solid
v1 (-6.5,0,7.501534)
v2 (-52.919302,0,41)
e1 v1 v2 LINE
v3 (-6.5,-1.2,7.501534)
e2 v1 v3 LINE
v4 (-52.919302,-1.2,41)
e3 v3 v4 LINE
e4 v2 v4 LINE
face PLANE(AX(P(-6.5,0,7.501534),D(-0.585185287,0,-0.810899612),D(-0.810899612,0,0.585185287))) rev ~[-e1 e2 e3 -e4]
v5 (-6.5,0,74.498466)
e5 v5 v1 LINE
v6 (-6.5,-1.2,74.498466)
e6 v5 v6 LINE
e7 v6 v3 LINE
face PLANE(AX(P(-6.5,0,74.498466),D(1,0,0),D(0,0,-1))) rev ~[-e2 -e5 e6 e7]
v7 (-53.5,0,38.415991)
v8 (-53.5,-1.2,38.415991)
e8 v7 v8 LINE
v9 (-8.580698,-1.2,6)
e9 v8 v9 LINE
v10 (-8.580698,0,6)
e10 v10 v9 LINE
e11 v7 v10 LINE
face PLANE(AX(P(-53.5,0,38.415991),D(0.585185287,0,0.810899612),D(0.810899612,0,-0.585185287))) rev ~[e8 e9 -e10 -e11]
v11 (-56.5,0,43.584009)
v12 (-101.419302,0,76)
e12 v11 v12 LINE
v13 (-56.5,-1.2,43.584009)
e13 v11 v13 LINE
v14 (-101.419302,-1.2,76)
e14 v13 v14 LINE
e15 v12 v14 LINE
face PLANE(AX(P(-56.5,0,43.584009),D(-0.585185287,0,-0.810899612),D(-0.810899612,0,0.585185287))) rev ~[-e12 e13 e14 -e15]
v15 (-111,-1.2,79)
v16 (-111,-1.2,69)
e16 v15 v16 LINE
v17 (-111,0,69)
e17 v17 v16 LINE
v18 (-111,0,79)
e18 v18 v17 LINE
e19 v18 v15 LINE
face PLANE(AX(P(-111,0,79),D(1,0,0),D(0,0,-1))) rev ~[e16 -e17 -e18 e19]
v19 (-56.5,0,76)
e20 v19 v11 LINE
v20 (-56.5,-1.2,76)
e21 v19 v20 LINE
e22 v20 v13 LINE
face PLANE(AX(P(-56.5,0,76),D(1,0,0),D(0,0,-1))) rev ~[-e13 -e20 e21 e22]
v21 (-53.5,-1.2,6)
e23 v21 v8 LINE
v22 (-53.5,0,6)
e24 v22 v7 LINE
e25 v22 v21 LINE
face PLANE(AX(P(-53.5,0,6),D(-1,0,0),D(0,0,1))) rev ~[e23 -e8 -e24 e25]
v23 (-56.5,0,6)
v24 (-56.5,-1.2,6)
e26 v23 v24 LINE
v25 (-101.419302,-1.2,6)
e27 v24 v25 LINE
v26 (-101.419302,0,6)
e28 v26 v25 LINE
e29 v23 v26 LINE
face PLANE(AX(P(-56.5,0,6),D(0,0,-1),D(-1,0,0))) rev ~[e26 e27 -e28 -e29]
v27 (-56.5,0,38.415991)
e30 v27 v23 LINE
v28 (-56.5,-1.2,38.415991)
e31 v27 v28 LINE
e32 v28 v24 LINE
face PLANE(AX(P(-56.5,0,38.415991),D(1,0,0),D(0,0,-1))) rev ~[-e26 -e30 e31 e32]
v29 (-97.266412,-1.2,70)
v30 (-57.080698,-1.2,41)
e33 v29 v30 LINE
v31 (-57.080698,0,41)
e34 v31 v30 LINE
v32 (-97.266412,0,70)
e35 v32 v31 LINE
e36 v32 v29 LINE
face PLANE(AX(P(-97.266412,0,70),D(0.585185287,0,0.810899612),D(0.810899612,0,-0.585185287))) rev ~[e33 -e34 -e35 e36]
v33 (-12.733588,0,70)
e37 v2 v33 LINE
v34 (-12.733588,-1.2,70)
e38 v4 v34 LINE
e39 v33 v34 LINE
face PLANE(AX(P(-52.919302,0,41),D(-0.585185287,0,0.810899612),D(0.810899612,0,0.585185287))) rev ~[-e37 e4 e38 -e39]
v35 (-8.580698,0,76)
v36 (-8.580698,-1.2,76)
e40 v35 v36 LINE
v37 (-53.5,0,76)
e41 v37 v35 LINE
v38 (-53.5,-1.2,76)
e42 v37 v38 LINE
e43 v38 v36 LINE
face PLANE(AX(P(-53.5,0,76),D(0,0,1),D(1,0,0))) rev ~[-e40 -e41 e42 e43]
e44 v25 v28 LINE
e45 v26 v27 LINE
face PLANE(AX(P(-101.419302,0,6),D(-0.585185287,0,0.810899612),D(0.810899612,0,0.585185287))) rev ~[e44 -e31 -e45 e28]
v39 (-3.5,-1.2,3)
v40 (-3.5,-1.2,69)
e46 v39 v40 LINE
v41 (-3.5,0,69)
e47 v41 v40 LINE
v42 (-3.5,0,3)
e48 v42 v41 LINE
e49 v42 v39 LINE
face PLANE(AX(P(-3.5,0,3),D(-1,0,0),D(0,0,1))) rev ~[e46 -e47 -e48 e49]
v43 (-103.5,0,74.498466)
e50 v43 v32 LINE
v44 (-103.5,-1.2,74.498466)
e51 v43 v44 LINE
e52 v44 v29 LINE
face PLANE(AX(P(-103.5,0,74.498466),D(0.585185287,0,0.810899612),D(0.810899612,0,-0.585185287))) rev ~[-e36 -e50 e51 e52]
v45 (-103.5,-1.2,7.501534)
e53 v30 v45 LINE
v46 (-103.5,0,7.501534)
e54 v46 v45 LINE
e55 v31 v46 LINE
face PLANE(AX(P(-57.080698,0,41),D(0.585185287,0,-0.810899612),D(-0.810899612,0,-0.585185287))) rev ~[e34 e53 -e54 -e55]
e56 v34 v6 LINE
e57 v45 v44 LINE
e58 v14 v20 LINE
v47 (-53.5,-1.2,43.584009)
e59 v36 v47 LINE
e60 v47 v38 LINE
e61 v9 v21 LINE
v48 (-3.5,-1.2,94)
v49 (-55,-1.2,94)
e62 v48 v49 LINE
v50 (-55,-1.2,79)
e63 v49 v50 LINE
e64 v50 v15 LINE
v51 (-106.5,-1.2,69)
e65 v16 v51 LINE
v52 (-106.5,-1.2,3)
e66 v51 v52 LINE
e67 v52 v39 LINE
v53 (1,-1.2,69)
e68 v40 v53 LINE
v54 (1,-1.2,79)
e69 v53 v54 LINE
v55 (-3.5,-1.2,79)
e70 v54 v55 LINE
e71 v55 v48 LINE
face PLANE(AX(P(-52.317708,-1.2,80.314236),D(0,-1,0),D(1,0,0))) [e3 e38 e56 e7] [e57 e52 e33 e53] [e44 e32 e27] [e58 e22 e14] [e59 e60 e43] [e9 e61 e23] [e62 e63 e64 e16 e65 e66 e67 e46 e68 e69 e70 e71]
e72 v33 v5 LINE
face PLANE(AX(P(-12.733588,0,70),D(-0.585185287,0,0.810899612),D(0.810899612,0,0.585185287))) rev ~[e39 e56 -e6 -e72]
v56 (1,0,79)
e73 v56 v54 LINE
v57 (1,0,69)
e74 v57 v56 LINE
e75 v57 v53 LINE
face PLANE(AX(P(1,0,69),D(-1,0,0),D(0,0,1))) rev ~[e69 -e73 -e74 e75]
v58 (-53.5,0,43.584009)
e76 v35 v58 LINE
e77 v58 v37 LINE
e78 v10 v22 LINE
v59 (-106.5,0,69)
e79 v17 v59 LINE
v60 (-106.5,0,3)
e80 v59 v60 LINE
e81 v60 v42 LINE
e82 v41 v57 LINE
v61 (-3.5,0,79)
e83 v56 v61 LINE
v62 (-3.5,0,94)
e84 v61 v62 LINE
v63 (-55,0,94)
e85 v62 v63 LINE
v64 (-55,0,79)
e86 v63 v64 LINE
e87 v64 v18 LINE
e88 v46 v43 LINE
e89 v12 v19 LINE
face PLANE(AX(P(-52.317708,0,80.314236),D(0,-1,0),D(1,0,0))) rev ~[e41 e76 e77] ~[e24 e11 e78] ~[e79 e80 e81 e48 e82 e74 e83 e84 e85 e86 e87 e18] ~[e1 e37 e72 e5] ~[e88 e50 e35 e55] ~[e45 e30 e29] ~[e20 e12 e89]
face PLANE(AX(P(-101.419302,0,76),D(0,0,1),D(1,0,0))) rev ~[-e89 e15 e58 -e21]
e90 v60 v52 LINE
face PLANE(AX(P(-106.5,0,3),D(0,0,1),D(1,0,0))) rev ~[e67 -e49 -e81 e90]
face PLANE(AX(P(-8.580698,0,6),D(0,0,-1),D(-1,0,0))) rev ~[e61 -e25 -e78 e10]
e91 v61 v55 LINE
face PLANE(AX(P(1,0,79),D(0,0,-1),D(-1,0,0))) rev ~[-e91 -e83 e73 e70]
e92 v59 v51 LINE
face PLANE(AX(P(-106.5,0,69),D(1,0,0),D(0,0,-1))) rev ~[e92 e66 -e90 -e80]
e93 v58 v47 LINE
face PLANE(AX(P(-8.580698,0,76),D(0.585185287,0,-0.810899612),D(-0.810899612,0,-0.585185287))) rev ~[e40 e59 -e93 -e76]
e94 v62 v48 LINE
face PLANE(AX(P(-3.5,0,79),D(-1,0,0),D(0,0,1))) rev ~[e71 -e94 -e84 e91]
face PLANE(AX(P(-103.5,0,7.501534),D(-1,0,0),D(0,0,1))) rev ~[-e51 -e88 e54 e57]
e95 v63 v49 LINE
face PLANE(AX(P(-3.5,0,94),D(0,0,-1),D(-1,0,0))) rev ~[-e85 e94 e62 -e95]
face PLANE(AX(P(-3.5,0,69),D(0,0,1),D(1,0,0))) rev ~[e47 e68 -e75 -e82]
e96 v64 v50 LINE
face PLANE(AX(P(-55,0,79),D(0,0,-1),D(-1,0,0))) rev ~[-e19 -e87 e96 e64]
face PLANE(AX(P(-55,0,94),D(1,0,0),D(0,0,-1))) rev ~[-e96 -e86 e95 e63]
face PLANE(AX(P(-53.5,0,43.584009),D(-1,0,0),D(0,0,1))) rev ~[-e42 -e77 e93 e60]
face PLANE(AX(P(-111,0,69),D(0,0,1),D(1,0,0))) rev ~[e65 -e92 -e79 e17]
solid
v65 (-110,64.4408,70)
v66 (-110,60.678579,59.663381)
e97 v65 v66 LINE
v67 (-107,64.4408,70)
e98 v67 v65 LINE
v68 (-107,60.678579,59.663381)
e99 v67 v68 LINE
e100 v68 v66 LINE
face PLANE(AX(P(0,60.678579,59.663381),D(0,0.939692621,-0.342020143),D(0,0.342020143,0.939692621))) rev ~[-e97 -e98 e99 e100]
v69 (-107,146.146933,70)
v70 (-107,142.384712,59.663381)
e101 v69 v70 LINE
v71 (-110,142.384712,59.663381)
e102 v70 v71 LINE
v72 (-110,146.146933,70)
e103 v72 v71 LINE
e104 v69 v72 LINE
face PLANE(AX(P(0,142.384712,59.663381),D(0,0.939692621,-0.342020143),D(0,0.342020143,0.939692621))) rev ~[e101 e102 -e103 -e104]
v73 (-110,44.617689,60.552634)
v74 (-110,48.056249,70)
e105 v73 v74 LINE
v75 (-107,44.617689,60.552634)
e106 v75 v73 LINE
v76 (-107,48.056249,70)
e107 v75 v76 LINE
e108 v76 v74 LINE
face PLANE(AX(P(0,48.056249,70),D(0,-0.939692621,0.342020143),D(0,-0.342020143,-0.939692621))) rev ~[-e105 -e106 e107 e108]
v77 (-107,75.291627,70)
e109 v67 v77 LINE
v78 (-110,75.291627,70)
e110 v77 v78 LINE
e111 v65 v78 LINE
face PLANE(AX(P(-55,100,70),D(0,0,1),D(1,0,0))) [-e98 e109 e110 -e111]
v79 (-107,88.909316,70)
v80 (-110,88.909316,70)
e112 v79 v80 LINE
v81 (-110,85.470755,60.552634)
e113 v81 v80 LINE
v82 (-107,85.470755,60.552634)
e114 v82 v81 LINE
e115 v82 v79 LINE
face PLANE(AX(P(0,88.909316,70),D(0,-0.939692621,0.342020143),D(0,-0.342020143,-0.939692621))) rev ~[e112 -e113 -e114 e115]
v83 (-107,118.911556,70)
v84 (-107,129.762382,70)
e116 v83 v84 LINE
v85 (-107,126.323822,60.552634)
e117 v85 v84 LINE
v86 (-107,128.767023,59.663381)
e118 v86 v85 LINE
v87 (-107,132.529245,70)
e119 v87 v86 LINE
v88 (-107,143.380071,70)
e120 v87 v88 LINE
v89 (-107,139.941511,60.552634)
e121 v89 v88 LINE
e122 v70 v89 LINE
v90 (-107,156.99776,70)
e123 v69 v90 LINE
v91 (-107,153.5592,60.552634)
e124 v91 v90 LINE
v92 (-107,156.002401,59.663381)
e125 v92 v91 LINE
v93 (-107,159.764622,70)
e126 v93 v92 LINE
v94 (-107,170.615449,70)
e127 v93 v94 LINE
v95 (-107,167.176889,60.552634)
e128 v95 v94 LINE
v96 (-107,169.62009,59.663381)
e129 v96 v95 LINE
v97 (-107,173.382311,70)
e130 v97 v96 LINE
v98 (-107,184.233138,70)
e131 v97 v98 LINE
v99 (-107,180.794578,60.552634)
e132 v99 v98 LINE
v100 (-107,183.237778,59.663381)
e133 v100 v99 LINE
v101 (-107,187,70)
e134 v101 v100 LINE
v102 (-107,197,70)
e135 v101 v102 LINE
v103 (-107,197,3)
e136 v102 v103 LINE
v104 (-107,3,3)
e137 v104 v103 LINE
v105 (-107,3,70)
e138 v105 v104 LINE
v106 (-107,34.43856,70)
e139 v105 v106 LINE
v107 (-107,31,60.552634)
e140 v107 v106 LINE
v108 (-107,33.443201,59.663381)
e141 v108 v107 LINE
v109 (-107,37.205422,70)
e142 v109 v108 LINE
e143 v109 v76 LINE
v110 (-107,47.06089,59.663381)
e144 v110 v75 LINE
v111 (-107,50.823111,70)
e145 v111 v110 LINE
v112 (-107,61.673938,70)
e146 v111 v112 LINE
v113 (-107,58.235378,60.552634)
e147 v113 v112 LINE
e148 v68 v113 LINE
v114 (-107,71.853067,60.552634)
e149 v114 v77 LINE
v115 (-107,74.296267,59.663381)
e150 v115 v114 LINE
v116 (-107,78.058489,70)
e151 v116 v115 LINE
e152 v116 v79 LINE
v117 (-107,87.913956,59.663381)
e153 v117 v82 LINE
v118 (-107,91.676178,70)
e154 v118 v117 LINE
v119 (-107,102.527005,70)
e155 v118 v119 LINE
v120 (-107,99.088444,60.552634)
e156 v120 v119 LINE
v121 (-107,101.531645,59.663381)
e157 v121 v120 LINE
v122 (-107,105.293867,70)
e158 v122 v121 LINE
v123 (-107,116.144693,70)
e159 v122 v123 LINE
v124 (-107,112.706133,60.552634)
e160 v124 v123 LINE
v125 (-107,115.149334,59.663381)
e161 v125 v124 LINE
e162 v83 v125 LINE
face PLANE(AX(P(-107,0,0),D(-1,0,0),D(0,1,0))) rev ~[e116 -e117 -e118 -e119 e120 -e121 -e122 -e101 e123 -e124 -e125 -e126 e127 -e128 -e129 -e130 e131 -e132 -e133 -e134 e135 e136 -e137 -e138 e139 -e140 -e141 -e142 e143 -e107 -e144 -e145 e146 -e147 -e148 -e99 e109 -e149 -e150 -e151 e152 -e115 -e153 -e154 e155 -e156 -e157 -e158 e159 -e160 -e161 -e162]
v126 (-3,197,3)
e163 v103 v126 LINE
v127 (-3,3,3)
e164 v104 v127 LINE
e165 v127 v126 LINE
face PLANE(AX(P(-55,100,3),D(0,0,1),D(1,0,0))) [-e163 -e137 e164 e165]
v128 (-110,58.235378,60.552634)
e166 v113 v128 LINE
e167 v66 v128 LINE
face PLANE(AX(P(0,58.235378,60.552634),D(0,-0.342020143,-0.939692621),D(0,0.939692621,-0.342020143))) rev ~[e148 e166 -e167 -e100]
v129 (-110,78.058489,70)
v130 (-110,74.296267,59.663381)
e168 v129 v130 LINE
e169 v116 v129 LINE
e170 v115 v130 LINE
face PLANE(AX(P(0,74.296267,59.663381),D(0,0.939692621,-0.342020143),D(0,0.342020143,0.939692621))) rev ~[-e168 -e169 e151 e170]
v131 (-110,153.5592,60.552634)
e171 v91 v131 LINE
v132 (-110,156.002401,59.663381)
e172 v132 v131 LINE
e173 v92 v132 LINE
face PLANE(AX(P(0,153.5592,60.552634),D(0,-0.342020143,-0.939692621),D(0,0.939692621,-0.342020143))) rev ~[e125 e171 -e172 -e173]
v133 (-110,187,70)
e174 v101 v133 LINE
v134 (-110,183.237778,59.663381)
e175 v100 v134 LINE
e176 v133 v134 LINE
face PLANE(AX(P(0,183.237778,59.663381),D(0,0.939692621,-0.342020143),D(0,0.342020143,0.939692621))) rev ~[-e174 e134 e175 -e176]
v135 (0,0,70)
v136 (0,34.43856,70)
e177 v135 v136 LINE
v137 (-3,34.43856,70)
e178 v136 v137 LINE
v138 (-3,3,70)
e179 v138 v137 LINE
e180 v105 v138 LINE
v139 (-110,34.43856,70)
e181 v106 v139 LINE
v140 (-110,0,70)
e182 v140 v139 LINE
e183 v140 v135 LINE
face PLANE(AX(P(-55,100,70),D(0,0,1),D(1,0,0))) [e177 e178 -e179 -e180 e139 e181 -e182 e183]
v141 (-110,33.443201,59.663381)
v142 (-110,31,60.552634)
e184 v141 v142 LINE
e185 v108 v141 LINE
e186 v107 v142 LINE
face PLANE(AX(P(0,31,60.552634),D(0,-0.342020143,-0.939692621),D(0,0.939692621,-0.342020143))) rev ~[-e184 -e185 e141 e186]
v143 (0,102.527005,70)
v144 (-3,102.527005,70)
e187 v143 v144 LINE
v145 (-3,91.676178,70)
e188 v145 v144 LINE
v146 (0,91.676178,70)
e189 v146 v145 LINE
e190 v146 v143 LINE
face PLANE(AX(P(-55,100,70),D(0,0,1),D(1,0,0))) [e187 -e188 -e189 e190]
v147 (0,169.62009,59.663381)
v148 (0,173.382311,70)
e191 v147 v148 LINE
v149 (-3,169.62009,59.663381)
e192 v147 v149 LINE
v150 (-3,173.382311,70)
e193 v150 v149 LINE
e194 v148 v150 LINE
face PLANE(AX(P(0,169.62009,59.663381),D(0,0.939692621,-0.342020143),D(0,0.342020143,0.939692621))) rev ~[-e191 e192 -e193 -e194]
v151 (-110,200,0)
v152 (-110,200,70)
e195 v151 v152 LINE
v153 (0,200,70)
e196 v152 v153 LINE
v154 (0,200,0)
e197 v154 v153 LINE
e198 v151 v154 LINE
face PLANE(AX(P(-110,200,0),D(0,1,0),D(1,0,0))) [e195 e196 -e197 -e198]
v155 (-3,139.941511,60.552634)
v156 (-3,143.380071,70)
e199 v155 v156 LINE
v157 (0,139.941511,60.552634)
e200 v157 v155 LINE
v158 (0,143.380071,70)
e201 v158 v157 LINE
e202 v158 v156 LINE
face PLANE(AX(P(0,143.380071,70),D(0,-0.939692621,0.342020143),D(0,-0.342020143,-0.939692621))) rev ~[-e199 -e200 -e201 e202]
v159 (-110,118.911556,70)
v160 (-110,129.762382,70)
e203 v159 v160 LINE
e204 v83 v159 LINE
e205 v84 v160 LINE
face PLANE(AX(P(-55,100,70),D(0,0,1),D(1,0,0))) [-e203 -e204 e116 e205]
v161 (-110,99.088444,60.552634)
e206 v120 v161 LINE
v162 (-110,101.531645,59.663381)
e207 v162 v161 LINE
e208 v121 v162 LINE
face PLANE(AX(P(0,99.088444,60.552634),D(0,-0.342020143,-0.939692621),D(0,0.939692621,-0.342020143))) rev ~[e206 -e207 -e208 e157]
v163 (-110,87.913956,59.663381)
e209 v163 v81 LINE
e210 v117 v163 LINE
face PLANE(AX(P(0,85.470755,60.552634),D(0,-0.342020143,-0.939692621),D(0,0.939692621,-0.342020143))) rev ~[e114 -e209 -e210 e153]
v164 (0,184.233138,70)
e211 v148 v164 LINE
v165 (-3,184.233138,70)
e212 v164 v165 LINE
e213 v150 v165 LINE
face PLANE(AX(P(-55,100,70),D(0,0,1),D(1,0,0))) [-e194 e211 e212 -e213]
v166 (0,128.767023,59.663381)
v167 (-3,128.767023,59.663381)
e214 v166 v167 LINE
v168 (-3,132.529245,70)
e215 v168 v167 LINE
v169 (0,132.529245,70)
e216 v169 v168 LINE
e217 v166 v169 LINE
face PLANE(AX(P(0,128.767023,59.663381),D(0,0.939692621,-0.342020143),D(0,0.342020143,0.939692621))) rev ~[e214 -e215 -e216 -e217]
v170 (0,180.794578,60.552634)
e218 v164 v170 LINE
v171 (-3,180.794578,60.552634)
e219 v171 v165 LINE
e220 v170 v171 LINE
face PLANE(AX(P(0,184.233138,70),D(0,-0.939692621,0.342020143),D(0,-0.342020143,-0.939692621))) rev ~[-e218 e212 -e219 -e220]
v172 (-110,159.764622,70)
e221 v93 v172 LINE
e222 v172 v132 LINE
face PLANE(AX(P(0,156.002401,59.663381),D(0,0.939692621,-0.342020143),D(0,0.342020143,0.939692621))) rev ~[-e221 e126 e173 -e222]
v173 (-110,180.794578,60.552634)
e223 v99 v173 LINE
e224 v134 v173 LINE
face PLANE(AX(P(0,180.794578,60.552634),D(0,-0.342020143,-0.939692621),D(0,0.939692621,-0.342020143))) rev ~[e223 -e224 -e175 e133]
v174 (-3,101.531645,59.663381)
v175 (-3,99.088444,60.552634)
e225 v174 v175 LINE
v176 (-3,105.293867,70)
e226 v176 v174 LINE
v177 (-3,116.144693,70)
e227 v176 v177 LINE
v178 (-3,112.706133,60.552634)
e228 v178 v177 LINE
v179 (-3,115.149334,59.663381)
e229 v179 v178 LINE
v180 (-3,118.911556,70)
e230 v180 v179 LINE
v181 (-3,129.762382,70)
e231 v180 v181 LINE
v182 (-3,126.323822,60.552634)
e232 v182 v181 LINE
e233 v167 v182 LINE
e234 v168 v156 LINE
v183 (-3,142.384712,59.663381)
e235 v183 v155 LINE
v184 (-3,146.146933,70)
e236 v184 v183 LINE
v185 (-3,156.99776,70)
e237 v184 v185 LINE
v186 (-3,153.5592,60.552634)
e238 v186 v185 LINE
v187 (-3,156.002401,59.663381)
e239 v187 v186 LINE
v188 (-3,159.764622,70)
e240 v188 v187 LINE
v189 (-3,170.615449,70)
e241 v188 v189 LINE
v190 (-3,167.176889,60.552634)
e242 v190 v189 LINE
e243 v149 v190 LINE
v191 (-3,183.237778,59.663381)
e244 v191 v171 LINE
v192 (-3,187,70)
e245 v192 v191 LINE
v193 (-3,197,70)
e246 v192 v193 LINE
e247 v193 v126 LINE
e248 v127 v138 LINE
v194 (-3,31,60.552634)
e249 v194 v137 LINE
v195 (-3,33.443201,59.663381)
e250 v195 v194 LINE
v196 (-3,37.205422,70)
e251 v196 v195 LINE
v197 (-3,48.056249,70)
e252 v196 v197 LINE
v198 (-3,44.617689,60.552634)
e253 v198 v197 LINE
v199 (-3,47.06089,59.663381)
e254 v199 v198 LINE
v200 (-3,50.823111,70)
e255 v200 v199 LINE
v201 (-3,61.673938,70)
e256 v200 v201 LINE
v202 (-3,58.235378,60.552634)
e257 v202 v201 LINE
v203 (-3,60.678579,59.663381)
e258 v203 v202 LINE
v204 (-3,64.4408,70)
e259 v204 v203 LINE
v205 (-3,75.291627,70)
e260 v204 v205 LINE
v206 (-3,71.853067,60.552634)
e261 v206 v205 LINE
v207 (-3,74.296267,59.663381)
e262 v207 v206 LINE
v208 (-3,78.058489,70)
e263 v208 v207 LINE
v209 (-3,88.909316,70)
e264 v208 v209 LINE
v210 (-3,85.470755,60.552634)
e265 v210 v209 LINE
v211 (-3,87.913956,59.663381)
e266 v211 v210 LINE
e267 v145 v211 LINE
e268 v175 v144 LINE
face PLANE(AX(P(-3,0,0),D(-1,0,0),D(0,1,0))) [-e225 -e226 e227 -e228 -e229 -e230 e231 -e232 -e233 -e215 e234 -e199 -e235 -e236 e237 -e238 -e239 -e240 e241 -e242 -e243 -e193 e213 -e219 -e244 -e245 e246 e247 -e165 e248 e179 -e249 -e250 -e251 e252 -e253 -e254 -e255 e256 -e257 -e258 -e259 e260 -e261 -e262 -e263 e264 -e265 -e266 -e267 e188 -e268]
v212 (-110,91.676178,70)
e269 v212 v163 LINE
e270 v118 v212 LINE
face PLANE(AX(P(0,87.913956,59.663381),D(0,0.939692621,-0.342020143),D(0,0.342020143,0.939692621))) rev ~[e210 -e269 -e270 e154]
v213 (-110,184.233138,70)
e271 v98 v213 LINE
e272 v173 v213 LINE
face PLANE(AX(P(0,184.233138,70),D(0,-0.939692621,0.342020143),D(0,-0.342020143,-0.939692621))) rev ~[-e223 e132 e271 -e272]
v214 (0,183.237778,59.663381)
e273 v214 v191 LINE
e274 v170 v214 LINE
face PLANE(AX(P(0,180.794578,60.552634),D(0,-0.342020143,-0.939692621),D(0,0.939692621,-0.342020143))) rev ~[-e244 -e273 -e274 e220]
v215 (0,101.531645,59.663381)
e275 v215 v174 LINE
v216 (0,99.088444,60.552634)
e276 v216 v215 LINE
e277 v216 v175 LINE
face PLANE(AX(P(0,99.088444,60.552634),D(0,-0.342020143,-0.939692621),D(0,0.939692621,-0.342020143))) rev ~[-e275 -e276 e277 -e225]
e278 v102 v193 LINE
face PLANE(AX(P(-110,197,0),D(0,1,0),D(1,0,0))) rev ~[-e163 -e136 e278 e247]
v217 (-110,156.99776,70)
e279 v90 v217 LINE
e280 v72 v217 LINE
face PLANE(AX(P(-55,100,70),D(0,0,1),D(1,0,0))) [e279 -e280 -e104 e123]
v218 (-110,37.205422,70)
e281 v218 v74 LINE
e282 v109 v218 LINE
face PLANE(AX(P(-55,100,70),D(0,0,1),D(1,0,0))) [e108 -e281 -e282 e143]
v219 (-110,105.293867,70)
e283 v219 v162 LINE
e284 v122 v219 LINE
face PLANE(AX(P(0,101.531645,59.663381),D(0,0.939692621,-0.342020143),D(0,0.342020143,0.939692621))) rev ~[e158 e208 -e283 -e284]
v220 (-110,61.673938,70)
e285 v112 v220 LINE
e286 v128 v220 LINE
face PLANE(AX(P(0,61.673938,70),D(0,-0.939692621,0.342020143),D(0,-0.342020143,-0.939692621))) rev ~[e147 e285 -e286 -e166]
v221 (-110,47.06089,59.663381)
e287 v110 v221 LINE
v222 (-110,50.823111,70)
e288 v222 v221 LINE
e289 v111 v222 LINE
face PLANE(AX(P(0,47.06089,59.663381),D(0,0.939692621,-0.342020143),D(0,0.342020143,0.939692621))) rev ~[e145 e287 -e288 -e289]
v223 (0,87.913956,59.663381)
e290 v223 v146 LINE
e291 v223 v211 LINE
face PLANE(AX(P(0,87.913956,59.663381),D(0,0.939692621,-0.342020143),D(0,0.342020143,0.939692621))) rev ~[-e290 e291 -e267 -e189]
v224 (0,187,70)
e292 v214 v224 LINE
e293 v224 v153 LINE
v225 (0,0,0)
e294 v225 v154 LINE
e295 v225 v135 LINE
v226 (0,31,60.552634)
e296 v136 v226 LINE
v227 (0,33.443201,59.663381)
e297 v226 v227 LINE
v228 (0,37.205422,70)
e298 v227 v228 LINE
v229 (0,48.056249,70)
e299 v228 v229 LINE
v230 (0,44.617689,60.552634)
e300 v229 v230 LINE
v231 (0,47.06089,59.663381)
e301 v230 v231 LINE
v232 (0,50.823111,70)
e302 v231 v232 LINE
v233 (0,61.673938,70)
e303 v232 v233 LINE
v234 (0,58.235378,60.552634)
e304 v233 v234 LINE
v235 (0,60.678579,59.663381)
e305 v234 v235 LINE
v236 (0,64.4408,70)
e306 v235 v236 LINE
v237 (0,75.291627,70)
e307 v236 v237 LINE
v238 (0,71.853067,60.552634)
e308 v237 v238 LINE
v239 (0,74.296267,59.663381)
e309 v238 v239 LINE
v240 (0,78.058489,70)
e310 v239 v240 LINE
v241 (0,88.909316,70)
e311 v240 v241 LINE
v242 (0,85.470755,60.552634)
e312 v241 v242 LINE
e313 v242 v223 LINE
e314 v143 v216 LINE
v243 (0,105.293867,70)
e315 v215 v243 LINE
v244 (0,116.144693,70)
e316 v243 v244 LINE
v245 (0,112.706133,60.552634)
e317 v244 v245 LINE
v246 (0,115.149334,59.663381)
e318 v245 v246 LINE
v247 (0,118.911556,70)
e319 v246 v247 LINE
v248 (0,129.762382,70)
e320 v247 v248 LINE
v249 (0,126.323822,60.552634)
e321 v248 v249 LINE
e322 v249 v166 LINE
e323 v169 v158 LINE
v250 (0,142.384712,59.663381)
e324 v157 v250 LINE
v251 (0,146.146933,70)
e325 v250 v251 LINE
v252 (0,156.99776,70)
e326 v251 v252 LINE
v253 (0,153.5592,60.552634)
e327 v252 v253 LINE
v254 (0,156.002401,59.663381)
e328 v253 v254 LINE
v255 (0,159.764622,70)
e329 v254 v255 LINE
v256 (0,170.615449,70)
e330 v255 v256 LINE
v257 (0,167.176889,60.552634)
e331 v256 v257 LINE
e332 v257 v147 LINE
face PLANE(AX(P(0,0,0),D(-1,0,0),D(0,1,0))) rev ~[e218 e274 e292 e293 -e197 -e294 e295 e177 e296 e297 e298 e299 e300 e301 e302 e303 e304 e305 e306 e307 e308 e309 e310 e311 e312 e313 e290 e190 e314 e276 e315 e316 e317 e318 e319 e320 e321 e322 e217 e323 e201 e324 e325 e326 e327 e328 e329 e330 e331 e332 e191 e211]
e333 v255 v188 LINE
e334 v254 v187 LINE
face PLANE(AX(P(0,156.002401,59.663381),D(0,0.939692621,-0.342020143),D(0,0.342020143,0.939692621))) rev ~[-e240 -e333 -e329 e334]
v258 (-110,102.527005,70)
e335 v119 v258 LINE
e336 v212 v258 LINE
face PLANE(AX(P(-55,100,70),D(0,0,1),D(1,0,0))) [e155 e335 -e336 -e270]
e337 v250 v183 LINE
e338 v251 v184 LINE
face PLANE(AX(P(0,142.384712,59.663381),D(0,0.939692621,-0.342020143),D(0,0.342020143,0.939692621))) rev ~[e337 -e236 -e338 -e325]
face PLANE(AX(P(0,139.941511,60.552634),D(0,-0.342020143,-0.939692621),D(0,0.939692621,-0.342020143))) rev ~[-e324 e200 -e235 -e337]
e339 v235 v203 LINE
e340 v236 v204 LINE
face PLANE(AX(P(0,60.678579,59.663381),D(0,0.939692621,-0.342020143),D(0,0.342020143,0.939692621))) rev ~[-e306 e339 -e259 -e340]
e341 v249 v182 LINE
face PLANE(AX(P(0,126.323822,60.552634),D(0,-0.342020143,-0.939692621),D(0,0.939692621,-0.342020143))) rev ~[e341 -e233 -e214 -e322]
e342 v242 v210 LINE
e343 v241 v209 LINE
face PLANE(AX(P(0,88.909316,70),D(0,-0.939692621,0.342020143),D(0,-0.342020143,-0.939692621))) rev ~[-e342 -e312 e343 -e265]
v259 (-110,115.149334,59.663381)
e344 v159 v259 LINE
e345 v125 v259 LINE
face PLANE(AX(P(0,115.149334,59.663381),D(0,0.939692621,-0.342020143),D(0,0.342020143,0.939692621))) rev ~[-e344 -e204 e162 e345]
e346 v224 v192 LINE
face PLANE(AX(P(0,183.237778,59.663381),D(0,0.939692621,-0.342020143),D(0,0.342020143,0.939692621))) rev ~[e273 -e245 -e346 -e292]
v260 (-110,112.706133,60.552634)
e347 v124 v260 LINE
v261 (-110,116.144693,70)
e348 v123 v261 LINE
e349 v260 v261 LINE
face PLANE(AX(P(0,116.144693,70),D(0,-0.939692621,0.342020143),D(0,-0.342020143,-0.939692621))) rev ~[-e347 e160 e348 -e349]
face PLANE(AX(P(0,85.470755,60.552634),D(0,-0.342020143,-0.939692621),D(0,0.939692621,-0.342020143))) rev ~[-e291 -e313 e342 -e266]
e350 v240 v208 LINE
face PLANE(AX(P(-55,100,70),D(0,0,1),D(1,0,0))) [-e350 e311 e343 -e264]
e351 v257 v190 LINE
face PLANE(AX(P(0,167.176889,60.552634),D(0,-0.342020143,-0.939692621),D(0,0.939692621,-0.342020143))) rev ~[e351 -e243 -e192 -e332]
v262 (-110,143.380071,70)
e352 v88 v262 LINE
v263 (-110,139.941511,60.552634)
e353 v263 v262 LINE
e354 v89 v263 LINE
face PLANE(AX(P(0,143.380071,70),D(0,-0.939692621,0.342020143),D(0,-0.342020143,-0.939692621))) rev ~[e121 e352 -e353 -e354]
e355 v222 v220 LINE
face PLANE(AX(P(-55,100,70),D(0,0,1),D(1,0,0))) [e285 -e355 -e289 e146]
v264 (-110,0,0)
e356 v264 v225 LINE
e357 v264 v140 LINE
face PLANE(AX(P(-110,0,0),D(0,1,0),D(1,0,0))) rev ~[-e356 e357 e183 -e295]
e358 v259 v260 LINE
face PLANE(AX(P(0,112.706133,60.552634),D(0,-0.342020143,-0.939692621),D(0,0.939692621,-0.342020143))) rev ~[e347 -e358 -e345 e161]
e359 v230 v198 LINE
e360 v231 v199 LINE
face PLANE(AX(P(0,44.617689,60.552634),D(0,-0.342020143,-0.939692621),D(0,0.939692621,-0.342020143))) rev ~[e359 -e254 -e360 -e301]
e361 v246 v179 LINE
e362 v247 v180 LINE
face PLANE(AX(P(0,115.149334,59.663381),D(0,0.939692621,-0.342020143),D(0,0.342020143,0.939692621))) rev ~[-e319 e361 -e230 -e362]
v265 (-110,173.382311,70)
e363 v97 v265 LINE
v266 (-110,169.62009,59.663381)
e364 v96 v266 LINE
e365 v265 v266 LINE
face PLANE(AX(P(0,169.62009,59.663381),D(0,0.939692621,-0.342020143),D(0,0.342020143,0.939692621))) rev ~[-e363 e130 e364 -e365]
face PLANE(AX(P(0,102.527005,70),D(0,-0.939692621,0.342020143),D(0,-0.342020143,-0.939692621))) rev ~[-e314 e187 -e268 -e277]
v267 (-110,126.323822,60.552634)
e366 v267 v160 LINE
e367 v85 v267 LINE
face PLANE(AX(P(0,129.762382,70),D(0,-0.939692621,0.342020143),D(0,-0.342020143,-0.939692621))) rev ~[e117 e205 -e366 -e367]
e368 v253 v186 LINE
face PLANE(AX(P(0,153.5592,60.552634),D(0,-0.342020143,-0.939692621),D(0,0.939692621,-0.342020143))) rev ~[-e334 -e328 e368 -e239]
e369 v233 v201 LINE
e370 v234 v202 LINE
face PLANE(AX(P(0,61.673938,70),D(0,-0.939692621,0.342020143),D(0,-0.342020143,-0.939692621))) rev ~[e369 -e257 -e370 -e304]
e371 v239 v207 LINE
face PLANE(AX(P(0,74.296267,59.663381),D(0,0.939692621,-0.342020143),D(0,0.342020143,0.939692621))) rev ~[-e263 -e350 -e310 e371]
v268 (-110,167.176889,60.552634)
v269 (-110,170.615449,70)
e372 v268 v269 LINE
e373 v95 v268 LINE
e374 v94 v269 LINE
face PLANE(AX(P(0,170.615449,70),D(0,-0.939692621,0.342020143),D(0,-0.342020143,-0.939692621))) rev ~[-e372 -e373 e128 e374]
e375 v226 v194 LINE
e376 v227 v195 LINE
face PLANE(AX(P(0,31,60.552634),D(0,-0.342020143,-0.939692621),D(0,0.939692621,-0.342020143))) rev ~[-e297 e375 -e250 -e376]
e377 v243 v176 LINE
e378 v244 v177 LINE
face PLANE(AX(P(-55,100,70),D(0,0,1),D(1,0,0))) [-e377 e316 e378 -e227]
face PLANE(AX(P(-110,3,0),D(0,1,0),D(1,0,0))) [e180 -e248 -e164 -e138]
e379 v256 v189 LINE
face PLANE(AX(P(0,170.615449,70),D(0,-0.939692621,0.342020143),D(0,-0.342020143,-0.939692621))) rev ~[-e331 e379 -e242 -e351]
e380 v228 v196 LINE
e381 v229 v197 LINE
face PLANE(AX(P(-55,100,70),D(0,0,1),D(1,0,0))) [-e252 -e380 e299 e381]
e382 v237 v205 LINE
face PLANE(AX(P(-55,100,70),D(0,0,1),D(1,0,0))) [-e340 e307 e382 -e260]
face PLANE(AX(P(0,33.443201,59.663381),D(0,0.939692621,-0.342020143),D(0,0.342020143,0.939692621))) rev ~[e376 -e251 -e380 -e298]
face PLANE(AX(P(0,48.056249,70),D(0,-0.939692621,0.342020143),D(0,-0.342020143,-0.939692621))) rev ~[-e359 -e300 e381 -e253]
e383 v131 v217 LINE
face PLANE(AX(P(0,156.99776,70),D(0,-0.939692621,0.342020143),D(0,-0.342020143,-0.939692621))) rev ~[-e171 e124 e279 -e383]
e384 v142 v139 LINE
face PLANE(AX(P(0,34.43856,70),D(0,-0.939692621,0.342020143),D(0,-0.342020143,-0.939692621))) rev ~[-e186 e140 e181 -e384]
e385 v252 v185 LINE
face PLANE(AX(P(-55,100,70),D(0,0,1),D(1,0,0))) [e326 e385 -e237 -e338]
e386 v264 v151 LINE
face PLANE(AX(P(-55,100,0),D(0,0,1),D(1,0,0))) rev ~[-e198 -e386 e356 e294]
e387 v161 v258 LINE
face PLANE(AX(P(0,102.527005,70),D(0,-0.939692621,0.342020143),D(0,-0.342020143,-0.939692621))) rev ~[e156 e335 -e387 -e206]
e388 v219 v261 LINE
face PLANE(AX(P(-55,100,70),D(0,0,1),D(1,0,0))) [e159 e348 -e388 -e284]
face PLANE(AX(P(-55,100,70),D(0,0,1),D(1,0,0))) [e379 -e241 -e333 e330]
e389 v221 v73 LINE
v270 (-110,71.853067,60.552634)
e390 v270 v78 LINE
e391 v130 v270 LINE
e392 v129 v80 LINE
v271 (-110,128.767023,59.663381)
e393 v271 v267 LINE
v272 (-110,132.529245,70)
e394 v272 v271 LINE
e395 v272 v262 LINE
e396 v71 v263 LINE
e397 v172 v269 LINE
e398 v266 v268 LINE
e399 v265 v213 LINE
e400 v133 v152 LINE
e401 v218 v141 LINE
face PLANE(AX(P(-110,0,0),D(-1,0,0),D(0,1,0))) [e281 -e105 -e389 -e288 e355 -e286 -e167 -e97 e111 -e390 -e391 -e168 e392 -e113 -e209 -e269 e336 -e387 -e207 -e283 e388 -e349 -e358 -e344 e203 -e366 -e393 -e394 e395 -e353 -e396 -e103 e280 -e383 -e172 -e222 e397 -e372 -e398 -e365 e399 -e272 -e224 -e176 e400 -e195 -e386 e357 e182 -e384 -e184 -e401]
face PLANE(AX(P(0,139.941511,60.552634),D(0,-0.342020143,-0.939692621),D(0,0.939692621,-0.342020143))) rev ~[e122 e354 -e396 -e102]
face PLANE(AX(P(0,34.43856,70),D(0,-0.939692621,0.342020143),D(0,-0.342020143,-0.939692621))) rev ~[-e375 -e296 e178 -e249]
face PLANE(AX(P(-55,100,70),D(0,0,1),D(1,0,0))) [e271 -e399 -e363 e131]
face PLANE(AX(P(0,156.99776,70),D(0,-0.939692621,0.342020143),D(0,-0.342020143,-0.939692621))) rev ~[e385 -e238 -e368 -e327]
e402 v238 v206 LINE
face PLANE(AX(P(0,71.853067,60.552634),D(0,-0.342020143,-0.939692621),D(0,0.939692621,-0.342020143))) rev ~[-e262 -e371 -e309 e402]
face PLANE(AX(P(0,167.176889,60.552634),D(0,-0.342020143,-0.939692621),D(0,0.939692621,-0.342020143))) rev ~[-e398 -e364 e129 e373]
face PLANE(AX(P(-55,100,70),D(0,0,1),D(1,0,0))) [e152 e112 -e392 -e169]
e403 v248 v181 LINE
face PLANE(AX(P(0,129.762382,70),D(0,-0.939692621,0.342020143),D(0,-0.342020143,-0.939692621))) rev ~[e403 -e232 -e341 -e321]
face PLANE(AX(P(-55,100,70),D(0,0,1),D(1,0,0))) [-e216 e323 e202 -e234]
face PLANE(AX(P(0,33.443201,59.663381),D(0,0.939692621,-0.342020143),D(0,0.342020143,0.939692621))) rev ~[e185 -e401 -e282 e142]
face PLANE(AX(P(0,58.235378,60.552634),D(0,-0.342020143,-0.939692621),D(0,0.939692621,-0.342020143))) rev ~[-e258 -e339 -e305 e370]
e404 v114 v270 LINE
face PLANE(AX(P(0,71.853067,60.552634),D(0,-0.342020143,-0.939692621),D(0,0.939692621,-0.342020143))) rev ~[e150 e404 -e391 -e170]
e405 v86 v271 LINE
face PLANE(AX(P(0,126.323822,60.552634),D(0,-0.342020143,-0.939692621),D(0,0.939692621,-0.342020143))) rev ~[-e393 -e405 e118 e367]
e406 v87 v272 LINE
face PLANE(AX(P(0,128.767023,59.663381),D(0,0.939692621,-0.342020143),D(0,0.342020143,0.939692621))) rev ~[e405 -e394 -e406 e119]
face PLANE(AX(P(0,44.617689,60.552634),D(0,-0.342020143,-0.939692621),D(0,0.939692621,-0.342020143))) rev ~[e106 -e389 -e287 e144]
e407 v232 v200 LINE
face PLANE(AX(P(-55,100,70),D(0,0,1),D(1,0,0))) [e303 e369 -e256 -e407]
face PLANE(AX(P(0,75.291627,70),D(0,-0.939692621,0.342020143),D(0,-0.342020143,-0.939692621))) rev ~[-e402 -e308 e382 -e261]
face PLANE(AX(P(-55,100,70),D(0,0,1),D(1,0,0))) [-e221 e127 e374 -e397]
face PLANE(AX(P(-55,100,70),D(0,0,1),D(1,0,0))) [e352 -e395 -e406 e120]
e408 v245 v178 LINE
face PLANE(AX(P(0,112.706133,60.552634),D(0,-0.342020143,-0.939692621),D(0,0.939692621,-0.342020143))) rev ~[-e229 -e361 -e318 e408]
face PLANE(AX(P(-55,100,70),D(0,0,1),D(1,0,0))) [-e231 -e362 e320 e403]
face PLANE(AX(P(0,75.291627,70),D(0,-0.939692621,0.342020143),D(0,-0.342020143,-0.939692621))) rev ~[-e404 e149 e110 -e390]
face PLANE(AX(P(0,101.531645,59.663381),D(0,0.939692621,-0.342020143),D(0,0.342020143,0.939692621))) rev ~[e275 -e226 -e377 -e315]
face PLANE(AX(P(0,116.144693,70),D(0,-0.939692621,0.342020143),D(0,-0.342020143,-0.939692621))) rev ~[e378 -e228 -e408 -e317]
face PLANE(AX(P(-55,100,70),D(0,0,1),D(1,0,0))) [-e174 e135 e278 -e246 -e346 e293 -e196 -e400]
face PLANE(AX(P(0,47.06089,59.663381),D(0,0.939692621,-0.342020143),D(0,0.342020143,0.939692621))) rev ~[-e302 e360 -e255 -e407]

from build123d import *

# Parameters (mm, degrees)
F0_W     = 110
F0_H     = 200
F1_DEPTH = 70
F2_T     = -3
F5_DEPTH = 110.001
F3_W     = 3
F3_H     = 6
F6_DEPTH = 1.2


with BuildPart() as f1:
    # F0 (on Top) → F1 (new body)
    with BuildSketch(Plane.XY):
        with Locations((-55, 100)):
            Rectangle(F0_W, F0_H)
    extrude(amount=F1_DEPTH)

    # F2
    f2_openings = [f1.faces().sort_by_distance(p)[0] for p in [
        (-55, 100, 70),
    ]]
    offset(amount=F2_T, openings=f2_openings)

    # F4 (on face) → F5 (cut, through all)
    with BuildSketch(Plane.YZ):
        Polygon((183.2377784234, 59.6633811714), (187, 70), (184.2331377916, 70), (180.7945776094, 60.552633544), align=None)
        Polygon((170.615448918, 70), (167.1768887358, 60.552633544), (169.6200895498, 59.6633811714), (173.3823111264, 70), align=None)
        Polygon((156.9977600444, 70), (153.5591998622, 60.552633544), (156.0024006762, 59.6633811714), (159.7646222528, 70), align=None)
        Polygon((143.3800711708, 70), (139.9415109886, 60.552633544), (142.3847118027, 59.6633811714), (146.1469333793, 70), align=None)
        Polygon((129.7623822972, 70), (126.323822115, 60.552633544), (128.7670229291, 59.6633811714), (132.5292445057, 70), align=None)
        Polygon((116.1446934237, 70), (112.7061332415, 60.552633544), (115.1493340555, 59.6633811714), (118.9115556321, 70), align=None)
        Polygon((102.5270045501, 70), (99.0884443679, 60.552633544), (101.5316451819, 59.6633811714), (105.2938667585, 70), align=None)
        Polygon((88.9093156765, 70), (85.4707554943, 60.552633544), (87.9139563084, 59.6633811714), (91.676177885, 70), align=None)
        Polygon((75.2916268029, 70), (71.8530666207, 60.552633544), (74.2962674348, 59.6633811714), (78.0584890114, 70), align=None)
        Polygon((61.6739379294, 70), (58.2353777472, 60.552633544), (60.6785785612, 59.6633811714), (64.4408001378, 70), align=None)
        Polygon((48.0562490558, 70), (44.6176888736, 60.552633544), (47.0608896876, 59.6633811714), (50.8231112642, 70), align=None)
        Polygon((34.4385601822, 70), (31, 60.552633544), (33.443200814, 59.6633811714), (37.2054223906, 70), align=None)
    extrude(amount=-F5_DEPTH, mode=Mode.SUBTRACT)


with BuildPart() as f6:
    # F3 (on face) → F6 (new body)
    with BuildSketch(Plane.XZ):
        Polygon((-55, 79), (-106.5, 79), (-111, 79), (-111, 69), (-110, 69), (-110, 70), (-103.5, 70), (-103.5, 74.4984656638), (-103.5, 76), (-101.4193024199, 76), (-56.5, 76), (-53.5, 76), (-8.5806975801, 76), (-6.5, 76), (-6.5, 74.4984656638), (-6.5, 70), (0, 70), (0, 69), (1, 69), (1, 79), (-3.5, 79), (-3.5, 94), (-55, 94), align=None)
        Polygon((-110, 70), (-110, 69), (-106.5, 69), (-106.5, 3), (-3.5, 3), (-3.5, 69), (0, 69), (0, 70), (-6.5, 70), (-6.5, 7.5015343362), (-6.5, 6), (-8.5806975801, 6), (-53.5, 6), (-56.5, 6), (-101.4193024199, 6), (-103.5, 6), (-103.5, 7.5015343362), (-103.5, 70), align=None)
        Polygon((-57.0806975801, 41), (-103.5, 7.5015343362), (-103.5, 6), (-101.4193024199, 6), (-56.5, 38.415991437), (-56.5, 40.5809398906), align=None)
        Polygon((-56.5, 43.584008563), (-56.5, 41.4190601094), (-55, 42.5015343362), align=None)
        Polygon((-52.9193024199, 41), (-12.7335881342, 70), (-16.8949832944, 70), (-53.5, 43.584008563), (-53.5, 41.4190601094), align=None)
        Polygon((-52.9193024199, 41), (-53.5, 41.4190601094), (-53.5, 40.5809398906), align=None)
        Polygon((-6.5, 6), (-6.5, 7.5015343362), (-52.9193024199, 41), (-53.5, 40.5809398906), (-53.5, 38.415991437), (-8.5806975801, 6), align=None)
        Polygon((-12.7335881342, 70), (-6.5, 74.4984656638), (-6.5, 76), (-8.5806975801, 76), (-16.8949832944, 70), align=None)
        Polygon((-103.5, 76), (-103.5, 74.4984656638), (-97.2664118658, 70), (-93.1050167056, 70), (-101.4193024199, 76), align=None)
        Polygon((-93.1050167056, 70), (-97.2664118658, 70), (-57.0806975801, 41), (-56.5, 41.4190601094), (-56.5, 43.584008563), align=None)
        Polygon((-56.5, 70), (-56.5, 43.584008563), (-55, 42.5015343362), (-53.5, 43.584008563), (-53.5, 70), align=None)
        with Locations((-55, 73)):
            Rectangle(F3_W, F3_H)
        Polygon((-56.5, 38.415991437), (-56.5, 6), (-53.5, 6), (-53.5, 38.415991437), (-55, 39.4984656638), align=None)
        Polygon((-55, 42.5015343362), (-56.5, 41.4190601094), (-56.5, 40.5809398906), (-55, 39.4984656638), (-53.5, 40.5809398906), (-53.5, 41.4190601094), align=None)
        Polygon((-53.5, 40.5809398906), (-55, 39.4984656638), (-53.5, 38.415991437), align=None)
        Polygon((-53.5, 43.584008563), (-55, 42.5015343362), (-53.5, 41.4190601094), align=None)
        Polygon((-55, 39.4984656638), (-56.5, 40.5809398906), (-56.5, 38.415991437), align=None)
        Polygon((-56.5, 41.4190601094), (-57.0806975801, 41), (-56.5, 40.5809398906), align=None)
    extrude(amount=F6_DEPTH)


solid = Compound([f1.part, f6.part])
